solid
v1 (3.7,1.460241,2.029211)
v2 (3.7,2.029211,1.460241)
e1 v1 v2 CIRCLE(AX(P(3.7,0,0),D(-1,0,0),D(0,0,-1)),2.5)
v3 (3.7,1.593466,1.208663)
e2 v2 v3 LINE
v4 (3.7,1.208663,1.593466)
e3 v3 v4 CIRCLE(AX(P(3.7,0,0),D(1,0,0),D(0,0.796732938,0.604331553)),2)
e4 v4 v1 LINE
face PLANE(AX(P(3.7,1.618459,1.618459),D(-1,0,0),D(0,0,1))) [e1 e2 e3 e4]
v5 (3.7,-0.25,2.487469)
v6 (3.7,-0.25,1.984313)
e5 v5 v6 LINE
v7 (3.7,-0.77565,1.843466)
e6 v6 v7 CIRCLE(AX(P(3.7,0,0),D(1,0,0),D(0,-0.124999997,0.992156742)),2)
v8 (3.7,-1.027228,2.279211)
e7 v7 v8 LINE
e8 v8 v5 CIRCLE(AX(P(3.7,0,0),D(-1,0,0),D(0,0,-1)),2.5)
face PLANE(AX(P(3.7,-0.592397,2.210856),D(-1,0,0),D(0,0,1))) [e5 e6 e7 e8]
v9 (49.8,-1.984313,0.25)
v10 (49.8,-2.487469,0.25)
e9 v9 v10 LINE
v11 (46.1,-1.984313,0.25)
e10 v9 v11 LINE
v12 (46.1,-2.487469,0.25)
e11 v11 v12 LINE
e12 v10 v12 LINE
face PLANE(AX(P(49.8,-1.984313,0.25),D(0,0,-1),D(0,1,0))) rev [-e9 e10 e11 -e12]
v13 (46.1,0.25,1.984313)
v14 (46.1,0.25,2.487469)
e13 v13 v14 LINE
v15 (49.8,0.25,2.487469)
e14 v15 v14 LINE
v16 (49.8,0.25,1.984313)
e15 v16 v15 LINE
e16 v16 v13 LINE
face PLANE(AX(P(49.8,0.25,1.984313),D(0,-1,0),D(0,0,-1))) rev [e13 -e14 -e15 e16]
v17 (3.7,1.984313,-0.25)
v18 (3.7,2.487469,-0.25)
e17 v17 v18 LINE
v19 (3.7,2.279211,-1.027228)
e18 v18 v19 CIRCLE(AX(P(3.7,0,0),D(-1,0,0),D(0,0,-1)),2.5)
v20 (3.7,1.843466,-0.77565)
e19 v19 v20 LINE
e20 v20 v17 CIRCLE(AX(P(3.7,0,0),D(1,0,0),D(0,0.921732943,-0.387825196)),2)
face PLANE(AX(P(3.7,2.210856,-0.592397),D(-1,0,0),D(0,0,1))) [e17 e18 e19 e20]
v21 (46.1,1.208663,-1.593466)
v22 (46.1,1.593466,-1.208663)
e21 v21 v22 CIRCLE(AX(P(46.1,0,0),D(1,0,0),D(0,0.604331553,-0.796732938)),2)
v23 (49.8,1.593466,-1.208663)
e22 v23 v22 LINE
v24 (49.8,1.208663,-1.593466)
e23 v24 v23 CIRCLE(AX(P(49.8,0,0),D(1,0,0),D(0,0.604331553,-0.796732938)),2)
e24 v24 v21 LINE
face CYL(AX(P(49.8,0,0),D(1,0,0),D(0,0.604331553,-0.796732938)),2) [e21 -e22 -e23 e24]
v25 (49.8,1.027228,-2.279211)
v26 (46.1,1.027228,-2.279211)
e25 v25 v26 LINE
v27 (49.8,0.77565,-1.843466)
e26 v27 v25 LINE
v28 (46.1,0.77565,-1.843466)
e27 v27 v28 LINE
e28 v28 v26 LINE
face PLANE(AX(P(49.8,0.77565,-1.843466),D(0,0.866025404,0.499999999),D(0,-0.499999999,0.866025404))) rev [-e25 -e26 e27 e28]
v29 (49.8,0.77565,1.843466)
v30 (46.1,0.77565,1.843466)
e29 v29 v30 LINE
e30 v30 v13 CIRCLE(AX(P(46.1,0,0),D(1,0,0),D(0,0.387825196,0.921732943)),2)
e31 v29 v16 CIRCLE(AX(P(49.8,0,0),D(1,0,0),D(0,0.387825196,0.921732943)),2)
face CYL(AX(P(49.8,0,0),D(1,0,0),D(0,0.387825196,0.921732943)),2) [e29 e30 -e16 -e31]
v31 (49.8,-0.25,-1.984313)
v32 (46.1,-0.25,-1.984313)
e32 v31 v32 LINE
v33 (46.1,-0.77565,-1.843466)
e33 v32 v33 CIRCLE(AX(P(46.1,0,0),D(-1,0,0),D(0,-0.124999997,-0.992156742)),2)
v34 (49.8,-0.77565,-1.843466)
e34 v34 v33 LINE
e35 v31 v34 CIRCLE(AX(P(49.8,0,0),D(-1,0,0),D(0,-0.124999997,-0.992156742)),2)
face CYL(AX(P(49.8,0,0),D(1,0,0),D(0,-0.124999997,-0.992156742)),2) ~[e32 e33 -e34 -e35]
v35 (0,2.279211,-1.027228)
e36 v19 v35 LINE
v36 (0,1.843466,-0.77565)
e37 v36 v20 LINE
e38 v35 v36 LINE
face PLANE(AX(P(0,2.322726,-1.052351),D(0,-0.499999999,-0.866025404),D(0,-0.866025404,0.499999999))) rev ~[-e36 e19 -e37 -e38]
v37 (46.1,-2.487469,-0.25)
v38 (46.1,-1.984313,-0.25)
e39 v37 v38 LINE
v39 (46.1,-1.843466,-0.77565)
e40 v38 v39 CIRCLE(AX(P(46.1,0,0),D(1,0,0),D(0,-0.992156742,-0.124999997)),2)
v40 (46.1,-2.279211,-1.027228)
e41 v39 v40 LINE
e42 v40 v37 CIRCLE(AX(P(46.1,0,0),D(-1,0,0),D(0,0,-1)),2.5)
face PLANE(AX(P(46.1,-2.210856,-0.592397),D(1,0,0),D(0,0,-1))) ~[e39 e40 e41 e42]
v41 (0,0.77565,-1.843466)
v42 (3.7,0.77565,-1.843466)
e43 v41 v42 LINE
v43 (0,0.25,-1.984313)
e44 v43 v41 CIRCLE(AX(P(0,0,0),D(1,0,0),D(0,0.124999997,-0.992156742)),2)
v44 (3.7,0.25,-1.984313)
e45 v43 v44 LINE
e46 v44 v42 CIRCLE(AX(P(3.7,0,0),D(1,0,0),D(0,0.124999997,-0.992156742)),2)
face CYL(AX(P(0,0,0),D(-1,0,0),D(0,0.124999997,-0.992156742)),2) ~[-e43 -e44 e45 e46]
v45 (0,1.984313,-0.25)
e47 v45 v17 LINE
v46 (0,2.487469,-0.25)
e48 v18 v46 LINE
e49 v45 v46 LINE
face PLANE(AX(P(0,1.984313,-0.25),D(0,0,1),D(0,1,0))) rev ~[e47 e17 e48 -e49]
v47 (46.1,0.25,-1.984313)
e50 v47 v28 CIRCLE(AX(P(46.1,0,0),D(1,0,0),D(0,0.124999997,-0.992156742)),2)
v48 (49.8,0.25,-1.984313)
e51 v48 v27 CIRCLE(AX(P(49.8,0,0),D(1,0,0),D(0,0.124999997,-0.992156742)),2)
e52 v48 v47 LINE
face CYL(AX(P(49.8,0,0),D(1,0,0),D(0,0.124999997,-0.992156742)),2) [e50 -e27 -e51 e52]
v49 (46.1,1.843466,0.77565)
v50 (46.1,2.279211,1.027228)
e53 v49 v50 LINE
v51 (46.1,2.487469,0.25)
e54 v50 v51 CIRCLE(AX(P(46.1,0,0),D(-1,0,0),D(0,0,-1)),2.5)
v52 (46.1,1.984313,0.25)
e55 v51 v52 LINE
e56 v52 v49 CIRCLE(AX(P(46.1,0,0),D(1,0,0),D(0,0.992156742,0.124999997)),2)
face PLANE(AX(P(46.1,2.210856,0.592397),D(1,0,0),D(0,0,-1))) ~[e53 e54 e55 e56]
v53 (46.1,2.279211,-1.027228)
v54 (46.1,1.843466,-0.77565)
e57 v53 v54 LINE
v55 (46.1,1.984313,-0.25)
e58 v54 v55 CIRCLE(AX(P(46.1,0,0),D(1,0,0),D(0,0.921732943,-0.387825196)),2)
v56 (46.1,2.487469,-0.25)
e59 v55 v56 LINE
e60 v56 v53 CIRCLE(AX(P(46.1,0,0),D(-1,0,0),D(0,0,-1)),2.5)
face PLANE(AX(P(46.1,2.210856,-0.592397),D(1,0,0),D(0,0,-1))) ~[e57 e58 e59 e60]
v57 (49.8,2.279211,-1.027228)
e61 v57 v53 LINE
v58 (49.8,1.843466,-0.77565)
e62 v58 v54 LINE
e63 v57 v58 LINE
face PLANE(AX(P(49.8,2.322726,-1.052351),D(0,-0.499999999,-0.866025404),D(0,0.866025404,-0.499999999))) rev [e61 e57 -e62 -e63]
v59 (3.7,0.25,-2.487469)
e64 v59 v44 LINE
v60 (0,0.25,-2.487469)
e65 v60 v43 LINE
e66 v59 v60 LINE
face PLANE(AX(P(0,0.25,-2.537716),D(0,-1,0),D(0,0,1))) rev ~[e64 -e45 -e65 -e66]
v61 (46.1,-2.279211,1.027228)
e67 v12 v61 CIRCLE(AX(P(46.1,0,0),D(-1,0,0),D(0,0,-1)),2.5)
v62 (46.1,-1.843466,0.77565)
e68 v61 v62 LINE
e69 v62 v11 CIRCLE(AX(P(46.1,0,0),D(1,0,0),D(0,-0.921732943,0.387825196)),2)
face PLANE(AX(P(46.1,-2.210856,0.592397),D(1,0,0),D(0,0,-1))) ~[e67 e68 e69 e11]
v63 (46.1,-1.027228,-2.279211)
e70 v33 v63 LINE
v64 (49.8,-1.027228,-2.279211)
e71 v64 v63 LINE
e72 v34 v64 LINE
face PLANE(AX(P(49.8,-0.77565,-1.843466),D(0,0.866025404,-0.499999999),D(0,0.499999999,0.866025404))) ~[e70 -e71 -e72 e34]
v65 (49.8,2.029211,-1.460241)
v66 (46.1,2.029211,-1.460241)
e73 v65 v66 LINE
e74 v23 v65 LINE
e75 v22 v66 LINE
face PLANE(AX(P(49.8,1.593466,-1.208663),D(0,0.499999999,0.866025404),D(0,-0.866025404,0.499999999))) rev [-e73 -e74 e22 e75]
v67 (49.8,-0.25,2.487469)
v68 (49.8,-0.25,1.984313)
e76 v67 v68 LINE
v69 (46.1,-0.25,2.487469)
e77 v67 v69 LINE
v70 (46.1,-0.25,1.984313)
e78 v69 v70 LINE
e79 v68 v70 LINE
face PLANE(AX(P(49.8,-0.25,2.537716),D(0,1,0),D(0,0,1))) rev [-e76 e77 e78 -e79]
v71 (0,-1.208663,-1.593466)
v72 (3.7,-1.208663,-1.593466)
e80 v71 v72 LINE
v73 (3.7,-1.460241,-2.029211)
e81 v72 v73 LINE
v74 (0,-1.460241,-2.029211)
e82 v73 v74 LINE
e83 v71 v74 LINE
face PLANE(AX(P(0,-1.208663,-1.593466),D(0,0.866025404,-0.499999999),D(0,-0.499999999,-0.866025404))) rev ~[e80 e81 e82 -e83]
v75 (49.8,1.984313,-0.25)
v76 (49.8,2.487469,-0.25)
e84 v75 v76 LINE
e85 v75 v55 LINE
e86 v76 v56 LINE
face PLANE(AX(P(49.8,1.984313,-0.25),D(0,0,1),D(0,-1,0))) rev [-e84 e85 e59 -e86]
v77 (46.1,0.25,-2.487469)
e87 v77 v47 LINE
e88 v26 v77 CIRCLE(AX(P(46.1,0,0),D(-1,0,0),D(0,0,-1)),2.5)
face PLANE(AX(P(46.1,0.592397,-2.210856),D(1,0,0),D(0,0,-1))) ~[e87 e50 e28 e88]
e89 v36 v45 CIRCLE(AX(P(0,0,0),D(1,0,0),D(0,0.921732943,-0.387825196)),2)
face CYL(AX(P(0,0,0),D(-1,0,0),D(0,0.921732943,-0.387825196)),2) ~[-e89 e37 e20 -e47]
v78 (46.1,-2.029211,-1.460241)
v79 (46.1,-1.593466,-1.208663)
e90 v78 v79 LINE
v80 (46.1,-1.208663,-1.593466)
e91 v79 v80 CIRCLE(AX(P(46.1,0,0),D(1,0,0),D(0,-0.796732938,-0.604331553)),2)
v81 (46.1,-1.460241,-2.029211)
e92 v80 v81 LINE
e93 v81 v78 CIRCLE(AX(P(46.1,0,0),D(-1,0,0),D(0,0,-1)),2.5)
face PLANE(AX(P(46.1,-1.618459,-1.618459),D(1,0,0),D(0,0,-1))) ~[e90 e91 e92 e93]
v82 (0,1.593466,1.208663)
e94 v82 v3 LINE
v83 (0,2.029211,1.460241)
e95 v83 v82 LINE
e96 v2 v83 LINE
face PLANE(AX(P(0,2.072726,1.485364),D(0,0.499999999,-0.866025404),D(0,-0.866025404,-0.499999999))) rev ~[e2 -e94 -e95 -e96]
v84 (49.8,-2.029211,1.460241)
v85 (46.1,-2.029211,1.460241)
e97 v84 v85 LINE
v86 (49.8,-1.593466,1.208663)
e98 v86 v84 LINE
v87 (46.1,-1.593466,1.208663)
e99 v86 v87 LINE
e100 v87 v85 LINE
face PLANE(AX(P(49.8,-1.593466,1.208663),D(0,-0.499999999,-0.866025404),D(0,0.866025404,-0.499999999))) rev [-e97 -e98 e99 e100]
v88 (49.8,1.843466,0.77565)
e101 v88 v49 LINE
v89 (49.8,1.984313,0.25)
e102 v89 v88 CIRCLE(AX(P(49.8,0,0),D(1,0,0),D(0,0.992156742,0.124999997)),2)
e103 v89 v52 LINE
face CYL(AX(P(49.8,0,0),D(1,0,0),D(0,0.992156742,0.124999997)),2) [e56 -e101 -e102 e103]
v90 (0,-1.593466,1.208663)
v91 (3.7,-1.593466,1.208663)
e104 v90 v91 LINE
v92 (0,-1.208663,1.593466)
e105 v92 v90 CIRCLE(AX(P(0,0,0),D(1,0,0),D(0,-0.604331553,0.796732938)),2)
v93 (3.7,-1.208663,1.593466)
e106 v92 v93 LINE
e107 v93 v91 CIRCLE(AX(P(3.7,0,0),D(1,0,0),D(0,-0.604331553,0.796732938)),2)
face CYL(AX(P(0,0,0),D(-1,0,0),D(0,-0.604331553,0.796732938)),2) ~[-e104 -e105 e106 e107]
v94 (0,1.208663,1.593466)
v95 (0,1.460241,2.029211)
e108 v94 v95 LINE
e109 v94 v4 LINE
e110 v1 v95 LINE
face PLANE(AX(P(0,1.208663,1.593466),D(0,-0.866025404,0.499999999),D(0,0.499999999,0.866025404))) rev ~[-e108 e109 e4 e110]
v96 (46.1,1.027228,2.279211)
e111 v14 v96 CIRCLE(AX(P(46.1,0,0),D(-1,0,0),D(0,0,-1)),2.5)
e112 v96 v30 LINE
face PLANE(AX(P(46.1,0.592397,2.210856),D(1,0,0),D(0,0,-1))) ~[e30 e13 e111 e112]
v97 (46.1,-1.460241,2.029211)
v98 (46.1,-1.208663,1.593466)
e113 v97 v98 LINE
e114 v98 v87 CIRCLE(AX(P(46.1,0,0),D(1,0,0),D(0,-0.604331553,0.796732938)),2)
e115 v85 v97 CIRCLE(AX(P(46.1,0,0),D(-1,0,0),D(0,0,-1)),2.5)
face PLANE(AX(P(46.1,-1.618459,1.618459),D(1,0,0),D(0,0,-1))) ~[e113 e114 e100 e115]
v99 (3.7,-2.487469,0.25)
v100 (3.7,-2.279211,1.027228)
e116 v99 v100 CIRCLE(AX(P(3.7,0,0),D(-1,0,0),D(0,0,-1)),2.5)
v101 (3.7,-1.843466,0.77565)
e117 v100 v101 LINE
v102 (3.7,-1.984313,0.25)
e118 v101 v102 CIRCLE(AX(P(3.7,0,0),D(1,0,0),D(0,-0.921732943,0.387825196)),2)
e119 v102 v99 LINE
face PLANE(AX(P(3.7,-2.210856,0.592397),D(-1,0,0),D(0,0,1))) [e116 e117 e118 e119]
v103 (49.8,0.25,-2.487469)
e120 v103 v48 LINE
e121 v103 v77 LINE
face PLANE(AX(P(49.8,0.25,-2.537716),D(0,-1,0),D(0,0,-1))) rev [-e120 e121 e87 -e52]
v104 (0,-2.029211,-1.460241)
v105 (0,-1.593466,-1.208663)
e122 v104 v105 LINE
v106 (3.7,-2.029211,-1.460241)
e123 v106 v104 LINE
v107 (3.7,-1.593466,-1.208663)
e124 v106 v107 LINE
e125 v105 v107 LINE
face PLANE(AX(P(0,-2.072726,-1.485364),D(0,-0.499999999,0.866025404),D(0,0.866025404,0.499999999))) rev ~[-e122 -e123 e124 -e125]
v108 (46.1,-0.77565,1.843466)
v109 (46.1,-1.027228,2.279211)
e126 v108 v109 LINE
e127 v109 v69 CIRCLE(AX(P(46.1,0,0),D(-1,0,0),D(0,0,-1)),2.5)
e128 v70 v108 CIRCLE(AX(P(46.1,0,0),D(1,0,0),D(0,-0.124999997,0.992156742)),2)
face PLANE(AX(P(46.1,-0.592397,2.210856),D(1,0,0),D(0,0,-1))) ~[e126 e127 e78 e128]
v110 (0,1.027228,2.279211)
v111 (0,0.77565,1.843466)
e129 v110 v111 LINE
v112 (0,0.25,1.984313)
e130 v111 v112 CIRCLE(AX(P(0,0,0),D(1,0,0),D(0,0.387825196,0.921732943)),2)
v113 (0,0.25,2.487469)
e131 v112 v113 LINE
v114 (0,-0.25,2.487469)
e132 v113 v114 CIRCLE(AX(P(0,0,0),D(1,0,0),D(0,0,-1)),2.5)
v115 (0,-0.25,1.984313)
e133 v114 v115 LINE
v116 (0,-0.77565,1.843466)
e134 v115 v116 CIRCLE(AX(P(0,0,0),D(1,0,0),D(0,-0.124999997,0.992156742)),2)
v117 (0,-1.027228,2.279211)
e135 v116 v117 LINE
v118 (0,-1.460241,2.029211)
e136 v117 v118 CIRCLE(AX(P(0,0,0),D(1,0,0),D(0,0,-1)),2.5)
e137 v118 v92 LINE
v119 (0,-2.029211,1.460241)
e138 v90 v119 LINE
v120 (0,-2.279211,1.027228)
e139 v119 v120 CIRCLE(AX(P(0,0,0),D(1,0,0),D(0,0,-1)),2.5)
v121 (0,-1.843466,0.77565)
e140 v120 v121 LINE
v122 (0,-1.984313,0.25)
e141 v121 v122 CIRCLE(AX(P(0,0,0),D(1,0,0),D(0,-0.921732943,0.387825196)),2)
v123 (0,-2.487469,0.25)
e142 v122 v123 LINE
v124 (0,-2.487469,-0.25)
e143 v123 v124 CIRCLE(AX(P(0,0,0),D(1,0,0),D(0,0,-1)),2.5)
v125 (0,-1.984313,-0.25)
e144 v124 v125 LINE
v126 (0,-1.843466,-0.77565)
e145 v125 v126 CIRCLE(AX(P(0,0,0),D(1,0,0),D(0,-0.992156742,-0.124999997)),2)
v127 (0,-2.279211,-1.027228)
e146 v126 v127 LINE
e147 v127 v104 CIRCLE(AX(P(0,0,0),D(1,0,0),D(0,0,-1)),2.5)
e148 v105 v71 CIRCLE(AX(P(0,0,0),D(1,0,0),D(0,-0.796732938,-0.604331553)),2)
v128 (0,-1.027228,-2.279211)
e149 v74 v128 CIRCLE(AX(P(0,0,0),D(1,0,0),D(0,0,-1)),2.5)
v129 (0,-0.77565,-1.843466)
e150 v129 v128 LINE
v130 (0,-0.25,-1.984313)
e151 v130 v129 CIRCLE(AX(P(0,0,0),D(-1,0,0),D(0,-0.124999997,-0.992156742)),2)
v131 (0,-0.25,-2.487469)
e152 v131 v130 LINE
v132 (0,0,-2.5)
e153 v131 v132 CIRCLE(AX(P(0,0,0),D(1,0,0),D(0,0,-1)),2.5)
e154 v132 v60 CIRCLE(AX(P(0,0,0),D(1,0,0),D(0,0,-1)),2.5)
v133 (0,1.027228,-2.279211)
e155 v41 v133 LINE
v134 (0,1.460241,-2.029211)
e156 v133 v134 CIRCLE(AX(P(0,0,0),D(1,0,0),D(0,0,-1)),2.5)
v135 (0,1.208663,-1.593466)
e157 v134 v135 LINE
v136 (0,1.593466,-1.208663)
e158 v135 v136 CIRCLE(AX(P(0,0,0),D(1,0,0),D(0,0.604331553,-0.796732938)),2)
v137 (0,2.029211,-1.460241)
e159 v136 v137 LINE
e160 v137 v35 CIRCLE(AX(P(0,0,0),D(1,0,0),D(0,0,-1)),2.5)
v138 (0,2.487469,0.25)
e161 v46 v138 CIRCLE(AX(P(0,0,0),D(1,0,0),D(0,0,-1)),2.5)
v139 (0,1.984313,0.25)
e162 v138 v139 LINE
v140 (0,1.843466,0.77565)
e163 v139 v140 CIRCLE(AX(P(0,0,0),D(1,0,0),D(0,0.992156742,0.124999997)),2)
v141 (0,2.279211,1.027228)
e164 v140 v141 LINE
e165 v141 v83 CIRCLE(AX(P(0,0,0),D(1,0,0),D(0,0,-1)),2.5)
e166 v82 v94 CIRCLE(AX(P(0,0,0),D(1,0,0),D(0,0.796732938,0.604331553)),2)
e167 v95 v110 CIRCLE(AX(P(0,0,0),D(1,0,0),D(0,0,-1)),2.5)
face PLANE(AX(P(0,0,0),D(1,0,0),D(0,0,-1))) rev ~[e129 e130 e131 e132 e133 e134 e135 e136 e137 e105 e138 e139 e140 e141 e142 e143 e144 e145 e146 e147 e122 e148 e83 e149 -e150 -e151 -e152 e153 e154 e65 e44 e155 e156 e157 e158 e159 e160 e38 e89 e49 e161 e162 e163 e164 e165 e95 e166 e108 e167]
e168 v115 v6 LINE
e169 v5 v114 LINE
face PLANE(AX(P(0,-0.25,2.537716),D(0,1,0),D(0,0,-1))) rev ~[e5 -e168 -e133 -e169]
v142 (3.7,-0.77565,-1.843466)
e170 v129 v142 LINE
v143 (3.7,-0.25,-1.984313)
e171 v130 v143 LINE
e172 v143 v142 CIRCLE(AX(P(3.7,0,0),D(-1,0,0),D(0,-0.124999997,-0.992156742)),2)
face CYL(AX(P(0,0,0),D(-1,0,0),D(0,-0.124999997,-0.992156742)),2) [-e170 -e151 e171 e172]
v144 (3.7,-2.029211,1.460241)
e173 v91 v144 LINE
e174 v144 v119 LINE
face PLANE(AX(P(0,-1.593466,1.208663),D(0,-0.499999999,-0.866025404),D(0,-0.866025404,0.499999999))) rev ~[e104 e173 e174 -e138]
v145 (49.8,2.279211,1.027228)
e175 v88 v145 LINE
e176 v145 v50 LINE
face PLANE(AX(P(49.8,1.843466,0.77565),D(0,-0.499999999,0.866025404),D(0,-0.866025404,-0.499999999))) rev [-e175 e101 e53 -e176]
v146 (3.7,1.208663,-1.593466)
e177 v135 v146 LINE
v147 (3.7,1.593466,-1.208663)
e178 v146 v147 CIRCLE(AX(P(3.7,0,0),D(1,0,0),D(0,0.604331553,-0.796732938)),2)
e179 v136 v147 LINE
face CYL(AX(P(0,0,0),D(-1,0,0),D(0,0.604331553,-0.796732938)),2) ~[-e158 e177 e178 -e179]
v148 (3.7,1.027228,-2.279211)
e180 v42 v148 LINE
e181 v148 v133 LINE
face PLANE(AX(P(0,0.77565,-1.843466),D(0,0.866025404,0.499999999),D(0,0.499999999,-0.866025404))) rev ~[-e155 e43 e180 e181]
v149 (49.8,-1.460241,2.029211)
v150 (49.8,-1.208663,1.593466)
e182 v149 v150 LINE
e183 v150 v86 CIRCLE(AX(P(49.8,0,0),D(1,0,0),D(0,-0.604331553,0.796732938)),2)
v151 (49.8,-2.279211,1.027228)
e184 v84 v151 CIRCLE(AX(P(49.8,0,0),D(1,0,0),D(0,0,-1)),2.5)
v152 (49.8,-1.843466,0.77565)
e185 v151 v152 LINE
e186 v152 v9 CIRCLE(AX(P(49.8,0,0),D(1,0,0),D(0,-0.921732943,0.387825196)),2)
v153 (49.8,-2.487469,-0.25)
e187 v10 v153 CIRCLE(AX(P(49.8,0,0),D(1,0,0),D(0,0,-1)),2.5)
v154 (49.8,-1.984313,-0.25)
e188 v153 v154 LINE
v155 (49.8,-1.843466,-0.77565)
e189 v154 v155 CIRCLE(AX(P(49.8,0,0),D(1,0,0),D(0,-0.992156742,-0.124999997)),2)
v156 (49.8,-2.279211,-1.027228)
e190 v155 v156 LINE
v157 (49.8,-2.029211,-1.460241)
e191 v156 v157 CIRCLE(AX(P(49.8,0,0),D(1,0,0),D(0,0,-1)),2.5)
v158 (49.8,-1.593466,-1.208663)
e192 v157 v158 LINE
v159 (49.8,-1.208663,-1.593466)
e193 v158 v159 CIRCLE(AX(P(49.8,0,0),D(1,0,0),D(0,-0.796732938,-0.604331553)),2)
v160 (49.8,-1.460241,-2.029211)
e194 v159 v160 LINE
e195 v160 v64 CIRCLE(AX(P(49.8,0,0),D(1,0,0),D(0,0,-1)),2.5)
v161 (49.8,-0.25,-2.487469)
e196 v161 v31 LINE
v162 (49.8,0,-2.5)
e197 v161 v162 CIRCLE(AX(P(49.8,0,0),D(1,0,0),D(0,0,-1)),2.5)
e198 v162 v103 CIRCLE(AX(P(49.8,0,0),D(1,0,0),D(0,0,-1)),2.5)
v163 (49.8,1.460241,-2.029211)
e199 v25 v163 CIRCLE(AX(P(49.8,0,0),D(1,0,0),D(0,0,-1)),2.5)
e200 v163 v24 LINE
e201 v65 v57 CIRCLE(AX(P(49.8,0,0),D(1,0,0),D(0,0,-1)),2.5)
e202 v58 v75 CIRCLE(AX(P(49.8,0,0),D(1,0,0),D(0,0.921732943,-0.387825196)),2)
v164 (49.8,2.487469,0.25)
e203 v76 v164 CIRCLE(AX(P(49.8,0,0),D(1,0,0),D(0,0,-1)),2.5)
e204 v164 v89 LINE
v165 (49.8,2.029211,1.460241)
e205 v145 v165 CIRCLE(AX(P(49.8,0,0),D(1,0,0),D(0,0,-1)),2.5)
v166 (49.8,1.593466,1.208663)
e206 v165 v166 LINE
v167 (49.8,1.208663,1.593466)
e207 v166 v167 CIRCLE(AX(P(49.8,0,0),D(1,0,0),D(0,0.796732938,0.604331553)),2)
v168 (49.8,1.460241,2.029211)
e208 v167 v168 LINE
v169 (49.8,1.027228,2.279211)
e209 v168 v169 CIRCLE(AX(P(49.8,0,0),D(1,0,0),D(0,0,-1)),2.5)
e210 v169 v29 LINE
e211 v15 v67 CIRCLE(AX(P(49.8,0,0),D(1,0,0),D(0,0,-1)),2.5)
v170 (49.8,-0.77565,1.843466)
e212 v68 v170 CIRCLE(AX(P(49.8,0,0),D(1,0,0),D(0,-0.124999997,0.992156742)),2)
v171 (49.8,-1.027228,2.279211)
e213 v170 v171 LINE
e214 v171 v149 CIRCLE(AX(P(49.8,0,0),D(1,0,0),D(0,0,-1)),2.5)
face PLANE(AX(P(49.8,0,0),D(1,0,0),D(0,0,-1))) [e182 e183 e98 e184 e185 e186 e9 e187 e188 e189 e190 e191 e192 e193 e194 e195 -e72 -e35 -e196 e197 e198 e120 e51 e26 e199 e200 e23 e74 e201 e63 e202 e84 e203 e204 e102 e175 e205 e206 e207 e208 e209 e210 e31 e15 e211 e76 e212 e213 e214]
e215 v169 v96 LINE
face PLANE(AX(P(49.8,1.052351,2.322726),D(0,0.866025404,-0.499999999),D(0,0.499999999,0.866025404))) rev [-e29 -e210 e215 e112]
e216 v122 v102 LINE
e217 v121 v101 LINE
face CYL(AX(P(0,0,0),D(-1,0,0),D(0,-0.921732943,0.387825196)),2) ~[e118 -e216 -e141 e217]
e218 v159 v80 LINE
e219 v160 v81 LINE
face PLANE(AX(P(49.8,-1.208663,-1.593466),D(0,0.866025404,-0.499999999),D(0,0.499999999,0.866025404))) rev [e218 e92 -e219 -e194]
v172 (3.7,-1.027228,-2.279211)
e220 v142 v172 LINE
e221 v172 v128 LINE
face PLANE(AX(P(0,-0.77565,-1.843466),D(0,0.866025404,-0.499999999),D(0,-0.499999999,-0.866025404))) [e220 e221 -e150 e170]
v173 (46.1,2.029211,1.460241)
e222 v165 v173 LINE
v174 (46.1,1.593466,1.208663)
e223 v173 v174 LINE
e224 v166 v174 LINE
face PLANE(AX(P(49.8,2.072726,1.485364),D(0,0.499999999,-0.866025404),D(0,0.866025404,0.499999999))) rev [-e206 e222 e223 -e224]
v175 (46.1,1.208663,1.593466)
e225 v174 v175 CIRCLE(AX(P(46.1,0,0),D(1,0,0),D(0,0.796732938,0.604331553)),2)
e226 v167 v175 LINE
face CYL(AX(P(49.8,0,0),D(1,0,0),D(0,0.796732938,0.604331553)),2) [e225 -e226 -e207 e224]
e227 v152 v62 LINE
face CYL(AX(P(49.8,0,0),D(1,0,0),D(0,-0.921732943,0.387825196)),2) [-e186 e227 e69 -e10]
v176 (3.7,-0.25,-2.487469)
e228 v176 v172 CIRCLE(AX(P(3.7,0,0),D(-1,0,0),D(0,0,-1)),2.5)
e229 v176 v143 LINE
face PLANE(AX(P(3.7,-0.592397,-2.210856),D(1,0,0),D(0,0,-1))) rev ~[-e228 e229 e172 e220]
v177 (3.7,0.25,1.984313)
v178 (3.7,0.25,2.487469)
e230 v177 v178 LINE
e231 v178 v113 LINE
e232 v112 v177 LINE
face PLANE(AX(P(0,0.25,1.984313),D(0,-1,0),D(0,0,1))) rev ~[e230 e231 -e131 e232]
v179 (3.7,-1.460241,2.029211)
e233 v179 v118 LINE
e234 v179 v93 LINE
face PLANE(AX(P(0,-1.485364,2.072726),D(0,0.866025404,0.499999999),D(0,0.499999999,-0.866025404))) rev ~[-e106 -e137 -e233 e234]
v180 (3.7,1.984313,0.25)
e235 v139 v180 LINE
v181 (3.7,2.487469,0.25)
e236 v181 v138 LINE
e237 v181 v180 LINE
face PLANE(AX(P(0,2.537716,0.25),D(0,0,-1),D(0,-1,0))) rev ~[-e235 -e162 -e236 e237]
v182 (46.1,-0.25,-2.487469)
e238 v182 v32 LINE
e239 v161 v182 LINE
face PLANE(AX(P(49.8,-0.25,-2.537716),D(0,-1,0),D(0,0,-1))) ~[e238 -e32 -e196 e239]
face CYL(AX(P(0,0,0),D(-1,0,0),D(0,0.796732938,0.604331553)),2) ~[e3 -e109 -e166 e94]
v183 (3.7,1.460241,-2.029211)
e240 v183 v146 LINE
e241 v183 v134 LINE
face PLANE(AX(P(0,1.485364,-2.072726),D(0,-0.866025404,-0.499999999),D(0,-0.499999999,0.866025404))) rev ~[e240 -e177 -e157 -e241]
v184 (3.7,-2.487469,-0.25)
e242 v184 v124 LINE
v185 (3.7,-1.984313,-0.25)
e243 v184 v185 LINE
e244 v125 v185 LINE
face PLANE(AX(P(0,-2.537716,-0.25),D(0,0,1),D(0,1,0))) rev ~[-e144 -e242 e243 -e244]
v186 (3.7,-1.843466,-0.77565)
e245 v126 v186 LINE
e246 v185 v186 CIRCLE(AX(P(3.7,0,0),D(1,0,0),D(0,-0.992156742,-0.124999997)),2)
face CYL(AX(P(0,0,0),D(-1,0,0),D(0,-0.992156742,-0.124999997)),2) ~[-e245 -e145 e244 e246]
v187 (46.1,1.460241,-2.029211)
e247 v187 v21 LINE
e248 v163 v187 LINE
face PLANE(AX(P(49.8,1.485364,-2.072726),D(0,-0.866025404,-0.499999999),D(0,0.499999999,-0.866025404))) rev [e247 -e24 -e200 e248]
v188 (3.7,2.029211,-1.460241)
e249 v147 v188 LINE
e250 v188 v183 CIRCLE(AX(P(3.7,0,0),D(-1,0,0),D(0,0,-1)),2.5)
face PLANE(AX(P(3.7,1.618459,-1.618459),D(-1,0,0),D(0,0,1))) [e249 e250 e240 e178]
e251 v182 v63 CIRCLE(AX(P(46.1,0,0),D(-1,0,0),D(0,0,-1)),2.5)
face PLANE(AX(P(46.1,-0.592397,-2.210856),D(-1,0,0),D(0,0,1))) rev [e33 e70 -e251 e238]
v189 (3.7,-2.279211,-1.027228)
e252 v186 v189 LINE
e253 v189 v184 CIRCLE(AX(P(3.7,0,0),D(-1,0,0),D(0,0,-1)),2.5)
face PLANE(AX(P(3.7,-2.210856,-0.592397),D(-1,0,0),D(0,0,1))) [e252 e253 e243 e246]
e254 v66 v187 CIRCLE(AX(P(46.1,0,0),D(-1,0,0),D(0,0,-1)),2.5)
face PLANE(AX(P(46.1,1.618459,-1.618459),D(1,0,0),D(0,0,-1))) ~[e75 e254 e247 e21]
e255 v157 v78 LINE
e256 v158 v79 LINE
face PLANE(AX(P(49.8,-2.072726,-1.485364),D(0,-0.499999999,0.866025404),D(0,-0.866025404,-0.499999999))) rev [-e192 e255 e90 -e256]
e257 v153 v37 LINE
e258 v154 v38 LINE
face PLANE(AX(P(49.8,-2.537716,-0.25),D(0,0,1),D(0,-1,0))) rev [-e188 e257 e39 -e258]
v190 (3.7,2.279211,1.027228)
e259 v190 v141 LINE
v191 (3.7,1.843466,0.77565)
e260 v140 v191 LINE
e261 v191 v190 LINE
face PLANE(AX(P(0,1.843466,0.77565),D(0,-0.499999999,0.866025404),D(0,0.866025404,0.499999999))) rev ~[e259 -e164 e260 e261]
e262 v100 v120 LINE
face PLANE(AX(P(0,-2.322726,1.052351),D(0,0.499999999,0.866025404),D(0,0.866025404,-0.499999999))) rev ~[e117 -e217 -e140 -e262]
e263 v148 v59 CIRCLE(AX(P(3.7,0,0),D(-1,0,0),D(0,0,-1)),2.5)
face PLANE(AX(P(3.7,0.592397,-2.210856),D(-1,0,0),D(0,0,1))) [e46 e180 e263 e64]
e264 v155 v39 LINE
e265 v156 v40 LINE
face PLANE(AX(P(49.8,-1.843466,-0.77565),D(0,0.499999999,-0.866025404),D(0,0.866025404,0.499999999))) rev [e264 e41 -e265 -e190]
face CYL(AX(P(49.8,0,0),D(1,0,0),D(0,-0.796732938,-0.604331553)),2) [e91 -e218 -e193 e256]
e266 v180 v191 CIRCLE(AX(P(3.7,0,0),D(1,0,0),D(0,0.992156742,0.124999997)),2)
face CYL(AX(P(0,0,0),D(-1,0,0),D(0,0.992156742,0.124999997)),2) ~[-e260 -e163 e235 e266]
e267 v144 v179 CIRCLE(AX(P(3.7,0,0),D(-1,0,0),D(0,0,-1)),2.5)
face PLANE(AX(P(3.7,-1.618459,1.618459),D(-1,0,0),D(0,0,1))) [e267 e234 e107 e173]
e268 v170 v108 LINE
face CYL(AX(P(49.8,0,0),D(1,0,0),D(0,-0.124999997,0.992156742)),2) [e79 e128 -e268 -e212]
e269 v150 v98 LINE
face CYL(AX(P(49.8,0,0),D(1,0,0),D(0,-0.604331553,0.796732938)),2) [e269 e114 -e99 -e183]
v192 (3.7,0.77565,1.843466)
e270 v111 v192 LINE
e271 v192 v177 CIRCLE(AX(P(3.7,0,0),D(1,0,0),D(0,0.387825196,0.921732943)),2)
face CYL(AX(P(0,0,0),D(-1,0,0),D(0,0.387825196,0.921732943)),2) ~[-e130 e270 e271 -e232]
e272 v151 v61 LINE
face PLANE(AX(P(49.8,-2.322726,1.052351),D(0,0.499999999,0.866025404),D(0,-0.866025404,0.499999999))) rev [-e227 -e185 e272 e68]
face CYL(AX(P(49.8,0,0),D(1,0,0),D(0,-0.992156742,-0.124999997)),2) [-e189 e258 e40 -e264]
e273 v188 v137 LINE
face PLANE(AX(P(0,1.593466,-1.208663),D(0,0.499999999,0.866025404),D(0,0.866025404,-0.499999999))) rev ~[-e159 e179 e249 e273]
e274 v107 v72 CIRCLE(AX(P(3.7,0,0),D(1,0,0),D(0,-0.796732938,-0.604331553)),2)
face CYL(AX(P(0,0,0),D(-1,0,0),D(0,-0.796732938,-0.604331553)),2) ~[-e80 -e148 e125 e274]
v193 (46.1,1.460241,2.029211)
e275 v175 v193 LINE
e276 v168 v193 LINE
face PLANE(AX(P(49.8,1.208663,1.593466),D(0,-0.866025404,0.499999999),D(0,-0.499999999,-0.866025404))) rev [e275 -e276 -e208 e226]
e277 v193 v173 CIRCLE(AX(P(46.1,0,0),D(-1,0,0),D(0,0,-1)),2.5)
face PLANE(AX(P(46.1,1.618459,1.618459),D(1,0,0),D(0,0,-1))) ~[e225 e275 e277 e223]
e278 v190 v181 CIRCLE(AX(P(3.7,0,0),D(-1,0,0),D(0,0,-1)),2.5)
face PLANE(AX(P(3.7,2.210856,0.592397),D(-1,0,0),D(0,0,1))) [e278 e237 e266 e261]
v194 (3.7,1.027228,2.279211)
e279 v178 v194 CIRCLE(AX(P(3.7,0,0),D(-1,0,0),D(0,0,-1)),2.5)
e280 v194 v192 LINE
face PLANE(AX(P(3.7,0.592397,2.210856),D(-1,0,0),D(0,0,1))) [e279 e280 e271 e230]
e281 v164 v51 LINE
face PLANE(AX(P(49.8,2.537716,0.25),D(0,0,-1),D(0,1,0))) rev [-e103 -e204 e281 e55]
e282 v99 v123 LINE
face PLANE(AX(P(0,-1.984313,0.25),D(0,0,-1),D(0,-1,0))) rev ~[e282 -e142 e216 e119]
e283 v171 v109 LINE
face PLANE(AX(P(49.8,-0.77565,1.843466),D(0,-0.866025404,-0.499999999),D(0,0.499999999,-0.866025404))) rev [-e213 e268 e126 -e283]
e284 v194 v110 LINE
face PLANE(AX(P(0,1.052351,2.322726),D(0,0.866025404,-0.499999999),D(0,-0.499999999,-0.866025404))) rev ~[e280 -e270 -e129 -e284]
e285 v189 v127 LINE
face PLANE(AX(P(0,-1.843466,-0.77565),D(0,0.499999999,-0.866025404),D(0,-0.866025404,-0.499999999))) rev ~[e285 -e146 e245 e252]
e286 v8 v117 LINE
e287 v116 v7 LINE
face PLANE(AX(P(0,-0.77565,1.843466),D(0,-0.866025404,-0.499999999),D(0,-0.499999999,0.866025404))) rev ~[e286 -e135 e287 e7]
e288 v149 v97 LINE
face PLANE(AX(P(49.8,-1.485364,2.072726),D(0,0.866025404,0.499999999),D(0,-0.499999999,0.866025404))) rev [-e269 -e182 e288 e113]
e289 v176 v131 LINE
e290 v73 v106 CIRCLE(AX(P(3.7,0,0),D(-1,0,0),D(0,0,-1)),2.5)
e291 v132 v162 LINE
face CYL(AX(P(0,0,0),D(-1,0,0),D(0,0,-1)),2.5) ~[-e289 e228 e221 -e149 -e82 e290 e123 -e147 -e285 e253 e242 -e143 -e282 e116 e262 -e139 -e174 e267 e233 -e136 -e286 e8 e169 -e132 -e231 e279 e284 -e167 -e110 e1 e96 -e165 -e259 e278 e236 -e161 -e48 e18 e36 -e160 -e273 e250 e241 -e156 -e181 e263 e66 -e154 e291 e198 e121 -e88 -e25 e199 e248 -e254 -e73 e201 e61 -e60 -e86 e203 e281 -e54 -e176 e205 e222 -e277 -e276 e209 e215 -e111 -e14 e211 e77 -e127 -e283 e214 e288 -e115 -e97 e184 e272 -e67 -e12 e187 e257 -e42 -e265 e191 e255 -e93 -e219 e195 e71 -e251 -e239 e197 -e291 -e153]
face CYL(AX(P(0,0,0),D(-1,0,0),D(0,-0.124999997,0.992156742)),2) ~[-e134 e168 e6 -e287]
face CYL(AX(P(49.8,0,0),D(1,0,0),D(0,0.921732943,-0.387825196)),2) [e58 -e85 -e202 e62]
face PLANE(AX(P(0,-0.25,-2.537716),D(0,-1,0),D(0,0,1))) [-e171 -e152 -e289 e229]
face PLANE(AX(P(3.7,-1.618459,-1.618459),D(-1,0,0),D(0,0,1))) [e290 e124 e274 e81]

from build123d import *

# Parameters (mm, degrees)
SKETCH1_R           = 2.5
BOSS_EXTRUDE1_DEPTH = 49.8
CUT_EXTRUDE2_DEPTH  = 3.7


with BuildPart() as part:
    # Sketch1 → Boss-Extrude1 (new body)
    with BuildSketch(Plane(origin=(0, 0, 0), x_dir=(0, 0, -1), z_dir=(1, 0, 0))):
        Circle(SKETCH1_R)
    extrude(amount=BOSS_EXTRUDE1_DEPTH)

    # Sketch3 → Cut-Extrude2 (cut)
    with BuildSketch(Plane.ZY):
        with BuildLine():
            Line((-2.537715508, -0.25), (-1.984313483, -0.25))
            ThreePointArc((-1.984313483, -0.25), (-1.931851653, -0.51763809), (-1.843465886, -0.775650391))
            Line((-1.843465886, -0.775650391), (-2.322726098, -1.052351403))
            ThreePointArc((-2.322726098, -1.052351403), (-2.463110857, -0.659988565), (-2.537715508, -0.25))
        make_face()
        with BuildLine():
            Line((-2.537715508, 0.25), (-1.984313483, 0.25))
            ThreePointArc((-1.984313483, 0.25), (-1.931851653, 0.51763809), (-1.843465886, 0.775650391))
            Line((-1.843465886, 0.775650391), (-2.322726098, 1.052351403))
            ThreePointArc((-2.322726098, 1.052351403), (-2.463110857, 0.659988565), (-2.537715508, 0.25))
        make_face()
        with BuildLine():
            Line((-2.072726098, 1.485364105), (-1.593465886, 1.208663093))
            ThreePointArc((-1.593465886, 1.208663093), (-1.414213562, 1.414213562), (-1.208663093, 1.593465886))
            Line((-1.208663093, 1.593465886), (-1.485364105, 2.072726098))
            ThreePointArc((-1.485364105, 2.072726098), (-1.803122292, 1.803122292), (-2.072726098, 1.485364105))
        make_face()
        with BuildLine():
            Line((-1.052351403, 2.322726098), (-0.775650391, 1.843465886))
            ThreePointArc((-0.775650391, 1.843465886), (-0.51763809, 1.931851653), (-0.25, 1.984313483))
            Line((-0.25, 1.984313483), (-0.25, 2.537715508))
            ThreePointArc((-0.25, 2.537715508), (-0.659988565, 2.463110857), (-1.052351403, 2.322726098))
        make_face()
        with BuildLine():
            Line((0.25, 2.537715508), (0.25, 1.984313483))
            ThreePointArc((0.25, 1.984313483), (0.51763809, 1.931851653), (0.775650391, 1.843465886))
            Line((0.775650391, 1.843465886), (1.052351403, 2.322726098))
            ThreePointArc((1.052351403, 2.322726098), (0.659988565, 2.463110857), (0.25, 2.537715508))
        make_face()
        with BuildLine():
            Line((1.485364105, 2.072726098), (1.208663093, 1.593465886))
            ThreePointArc((1.208663093, 1.593465886), (1.414213562, 1.414213562), (1.593465886, 1.208663093))
            Line((1.593465886, 1.208663093), (2.072726098, 1.485364105))
            ThreePointArc((2.072726098, 1.485364105), (1.803122292, 1.803122292), (1.485364105, 2.072726098))
        make_face()
        with BuildLine():
            Line((2.322726098, 1.052351403), (1.843465886, 0.775650391))
            ThreePointArc((1.843465886, 0.775650391), (1.931851653, 0.51763809), (1.984313483, 0.25))
            Line((1.984313483, 0.25), (2.537715508, 0.25))
            ThreePointArc((2.537715508, 0.25), (2.463110857, 0.659988565), (2.322726098, 1.052351403))
        make_face()
        with BuildLine():
            Line((2.537715508, -0.25), (1.984313483, -0.25))
            ThreePointArc((1.984313483, -0.25), (1.931851653, -0.51763809), (1.843465886, -0.775650391))
            Line((1.843465886, -0.775650391), (2.322726098, -1.052351403))
            ThreePointArc((2.322726098, -1.052351403), (2.463110857, -0.659988565), (2.537715508, -0.25))
        make_face()
        with BuildLine():
            Line((2.072726098, -1.485364105), (1.593465886, -1.208663093))
            ThreePointArc((1.593465886, -1.208663093), (1.414213562, -1.414213562), (1.208663093, -1.593465886))
            Line((1.208663093, -1.593465886), (1.485364105, -2.072726098))
            ThreePointArc((1.485364105, -2.072726098), (1.803122292, -1.803122292), (2.072726098, -1.485364105))
        make_face()
        with BuildLine():
            Line((1.052351403, -2.322726098), (0.775650391, -1.843465886))
            ThreePointArc((0.775650391, -1.843465886), (0.51763809, -1.931851653), (0.25, -1.984313483))
            Line((0.25, -1.984313483), (0.25, -2.537715508))
            ThreePointArc((0.25, -2.537715508), (0.659988565, -2.463110857), (1.052351403, -2.322726098))
        make_face()
        with BuildLine():
            Line((-0.25, -2.537715508), (-0.25, -1.984313483))
            ThreePointArc((-0.25, -1.984313483), (-0.51763809, -1.931851653), (-0.775650391, -1.843465886))
            Line((-0.775650391, -1.843465886), (-1.052351403, -2.322726098))
            ThreePointArc((-1.052351403, -2.322726098), (-0.659988565, -2.463110857), (-0.25, -2.537715508))
        make_face()
        with BuildLine():
            Line((-1.485364105, -2.072726098), (-1.208663093, -1.593465886))
            ThreePointArc((-1.208663093, -1.593465886), (-1.414213562, -1.414213562), (-1.593465886, -1.208663093))
            Line((-1.593465886, -1.208663093), (-2.072726098, -1.485364105))
            ThreePointArc((-2.072726098, -1.485364105), (-1.803122292, -1.803122292), (-1.485364105, -2.072726098))
        make_face()
    cut_extrude2 = extrude(amount=-CUT_EXTRUDE2_DEPTH, mode=Mode.SUBTRACT)

    # Mirror1: Cut-Extrude2 across plane
    add(cut_extrude2.mirror(Plane(origin=(24.9, 0, 0), x_dir=(0, 0, 1), z_dir=(1, 0, 0))), mode=Mode.SUBTRACT)


solid = part.part
